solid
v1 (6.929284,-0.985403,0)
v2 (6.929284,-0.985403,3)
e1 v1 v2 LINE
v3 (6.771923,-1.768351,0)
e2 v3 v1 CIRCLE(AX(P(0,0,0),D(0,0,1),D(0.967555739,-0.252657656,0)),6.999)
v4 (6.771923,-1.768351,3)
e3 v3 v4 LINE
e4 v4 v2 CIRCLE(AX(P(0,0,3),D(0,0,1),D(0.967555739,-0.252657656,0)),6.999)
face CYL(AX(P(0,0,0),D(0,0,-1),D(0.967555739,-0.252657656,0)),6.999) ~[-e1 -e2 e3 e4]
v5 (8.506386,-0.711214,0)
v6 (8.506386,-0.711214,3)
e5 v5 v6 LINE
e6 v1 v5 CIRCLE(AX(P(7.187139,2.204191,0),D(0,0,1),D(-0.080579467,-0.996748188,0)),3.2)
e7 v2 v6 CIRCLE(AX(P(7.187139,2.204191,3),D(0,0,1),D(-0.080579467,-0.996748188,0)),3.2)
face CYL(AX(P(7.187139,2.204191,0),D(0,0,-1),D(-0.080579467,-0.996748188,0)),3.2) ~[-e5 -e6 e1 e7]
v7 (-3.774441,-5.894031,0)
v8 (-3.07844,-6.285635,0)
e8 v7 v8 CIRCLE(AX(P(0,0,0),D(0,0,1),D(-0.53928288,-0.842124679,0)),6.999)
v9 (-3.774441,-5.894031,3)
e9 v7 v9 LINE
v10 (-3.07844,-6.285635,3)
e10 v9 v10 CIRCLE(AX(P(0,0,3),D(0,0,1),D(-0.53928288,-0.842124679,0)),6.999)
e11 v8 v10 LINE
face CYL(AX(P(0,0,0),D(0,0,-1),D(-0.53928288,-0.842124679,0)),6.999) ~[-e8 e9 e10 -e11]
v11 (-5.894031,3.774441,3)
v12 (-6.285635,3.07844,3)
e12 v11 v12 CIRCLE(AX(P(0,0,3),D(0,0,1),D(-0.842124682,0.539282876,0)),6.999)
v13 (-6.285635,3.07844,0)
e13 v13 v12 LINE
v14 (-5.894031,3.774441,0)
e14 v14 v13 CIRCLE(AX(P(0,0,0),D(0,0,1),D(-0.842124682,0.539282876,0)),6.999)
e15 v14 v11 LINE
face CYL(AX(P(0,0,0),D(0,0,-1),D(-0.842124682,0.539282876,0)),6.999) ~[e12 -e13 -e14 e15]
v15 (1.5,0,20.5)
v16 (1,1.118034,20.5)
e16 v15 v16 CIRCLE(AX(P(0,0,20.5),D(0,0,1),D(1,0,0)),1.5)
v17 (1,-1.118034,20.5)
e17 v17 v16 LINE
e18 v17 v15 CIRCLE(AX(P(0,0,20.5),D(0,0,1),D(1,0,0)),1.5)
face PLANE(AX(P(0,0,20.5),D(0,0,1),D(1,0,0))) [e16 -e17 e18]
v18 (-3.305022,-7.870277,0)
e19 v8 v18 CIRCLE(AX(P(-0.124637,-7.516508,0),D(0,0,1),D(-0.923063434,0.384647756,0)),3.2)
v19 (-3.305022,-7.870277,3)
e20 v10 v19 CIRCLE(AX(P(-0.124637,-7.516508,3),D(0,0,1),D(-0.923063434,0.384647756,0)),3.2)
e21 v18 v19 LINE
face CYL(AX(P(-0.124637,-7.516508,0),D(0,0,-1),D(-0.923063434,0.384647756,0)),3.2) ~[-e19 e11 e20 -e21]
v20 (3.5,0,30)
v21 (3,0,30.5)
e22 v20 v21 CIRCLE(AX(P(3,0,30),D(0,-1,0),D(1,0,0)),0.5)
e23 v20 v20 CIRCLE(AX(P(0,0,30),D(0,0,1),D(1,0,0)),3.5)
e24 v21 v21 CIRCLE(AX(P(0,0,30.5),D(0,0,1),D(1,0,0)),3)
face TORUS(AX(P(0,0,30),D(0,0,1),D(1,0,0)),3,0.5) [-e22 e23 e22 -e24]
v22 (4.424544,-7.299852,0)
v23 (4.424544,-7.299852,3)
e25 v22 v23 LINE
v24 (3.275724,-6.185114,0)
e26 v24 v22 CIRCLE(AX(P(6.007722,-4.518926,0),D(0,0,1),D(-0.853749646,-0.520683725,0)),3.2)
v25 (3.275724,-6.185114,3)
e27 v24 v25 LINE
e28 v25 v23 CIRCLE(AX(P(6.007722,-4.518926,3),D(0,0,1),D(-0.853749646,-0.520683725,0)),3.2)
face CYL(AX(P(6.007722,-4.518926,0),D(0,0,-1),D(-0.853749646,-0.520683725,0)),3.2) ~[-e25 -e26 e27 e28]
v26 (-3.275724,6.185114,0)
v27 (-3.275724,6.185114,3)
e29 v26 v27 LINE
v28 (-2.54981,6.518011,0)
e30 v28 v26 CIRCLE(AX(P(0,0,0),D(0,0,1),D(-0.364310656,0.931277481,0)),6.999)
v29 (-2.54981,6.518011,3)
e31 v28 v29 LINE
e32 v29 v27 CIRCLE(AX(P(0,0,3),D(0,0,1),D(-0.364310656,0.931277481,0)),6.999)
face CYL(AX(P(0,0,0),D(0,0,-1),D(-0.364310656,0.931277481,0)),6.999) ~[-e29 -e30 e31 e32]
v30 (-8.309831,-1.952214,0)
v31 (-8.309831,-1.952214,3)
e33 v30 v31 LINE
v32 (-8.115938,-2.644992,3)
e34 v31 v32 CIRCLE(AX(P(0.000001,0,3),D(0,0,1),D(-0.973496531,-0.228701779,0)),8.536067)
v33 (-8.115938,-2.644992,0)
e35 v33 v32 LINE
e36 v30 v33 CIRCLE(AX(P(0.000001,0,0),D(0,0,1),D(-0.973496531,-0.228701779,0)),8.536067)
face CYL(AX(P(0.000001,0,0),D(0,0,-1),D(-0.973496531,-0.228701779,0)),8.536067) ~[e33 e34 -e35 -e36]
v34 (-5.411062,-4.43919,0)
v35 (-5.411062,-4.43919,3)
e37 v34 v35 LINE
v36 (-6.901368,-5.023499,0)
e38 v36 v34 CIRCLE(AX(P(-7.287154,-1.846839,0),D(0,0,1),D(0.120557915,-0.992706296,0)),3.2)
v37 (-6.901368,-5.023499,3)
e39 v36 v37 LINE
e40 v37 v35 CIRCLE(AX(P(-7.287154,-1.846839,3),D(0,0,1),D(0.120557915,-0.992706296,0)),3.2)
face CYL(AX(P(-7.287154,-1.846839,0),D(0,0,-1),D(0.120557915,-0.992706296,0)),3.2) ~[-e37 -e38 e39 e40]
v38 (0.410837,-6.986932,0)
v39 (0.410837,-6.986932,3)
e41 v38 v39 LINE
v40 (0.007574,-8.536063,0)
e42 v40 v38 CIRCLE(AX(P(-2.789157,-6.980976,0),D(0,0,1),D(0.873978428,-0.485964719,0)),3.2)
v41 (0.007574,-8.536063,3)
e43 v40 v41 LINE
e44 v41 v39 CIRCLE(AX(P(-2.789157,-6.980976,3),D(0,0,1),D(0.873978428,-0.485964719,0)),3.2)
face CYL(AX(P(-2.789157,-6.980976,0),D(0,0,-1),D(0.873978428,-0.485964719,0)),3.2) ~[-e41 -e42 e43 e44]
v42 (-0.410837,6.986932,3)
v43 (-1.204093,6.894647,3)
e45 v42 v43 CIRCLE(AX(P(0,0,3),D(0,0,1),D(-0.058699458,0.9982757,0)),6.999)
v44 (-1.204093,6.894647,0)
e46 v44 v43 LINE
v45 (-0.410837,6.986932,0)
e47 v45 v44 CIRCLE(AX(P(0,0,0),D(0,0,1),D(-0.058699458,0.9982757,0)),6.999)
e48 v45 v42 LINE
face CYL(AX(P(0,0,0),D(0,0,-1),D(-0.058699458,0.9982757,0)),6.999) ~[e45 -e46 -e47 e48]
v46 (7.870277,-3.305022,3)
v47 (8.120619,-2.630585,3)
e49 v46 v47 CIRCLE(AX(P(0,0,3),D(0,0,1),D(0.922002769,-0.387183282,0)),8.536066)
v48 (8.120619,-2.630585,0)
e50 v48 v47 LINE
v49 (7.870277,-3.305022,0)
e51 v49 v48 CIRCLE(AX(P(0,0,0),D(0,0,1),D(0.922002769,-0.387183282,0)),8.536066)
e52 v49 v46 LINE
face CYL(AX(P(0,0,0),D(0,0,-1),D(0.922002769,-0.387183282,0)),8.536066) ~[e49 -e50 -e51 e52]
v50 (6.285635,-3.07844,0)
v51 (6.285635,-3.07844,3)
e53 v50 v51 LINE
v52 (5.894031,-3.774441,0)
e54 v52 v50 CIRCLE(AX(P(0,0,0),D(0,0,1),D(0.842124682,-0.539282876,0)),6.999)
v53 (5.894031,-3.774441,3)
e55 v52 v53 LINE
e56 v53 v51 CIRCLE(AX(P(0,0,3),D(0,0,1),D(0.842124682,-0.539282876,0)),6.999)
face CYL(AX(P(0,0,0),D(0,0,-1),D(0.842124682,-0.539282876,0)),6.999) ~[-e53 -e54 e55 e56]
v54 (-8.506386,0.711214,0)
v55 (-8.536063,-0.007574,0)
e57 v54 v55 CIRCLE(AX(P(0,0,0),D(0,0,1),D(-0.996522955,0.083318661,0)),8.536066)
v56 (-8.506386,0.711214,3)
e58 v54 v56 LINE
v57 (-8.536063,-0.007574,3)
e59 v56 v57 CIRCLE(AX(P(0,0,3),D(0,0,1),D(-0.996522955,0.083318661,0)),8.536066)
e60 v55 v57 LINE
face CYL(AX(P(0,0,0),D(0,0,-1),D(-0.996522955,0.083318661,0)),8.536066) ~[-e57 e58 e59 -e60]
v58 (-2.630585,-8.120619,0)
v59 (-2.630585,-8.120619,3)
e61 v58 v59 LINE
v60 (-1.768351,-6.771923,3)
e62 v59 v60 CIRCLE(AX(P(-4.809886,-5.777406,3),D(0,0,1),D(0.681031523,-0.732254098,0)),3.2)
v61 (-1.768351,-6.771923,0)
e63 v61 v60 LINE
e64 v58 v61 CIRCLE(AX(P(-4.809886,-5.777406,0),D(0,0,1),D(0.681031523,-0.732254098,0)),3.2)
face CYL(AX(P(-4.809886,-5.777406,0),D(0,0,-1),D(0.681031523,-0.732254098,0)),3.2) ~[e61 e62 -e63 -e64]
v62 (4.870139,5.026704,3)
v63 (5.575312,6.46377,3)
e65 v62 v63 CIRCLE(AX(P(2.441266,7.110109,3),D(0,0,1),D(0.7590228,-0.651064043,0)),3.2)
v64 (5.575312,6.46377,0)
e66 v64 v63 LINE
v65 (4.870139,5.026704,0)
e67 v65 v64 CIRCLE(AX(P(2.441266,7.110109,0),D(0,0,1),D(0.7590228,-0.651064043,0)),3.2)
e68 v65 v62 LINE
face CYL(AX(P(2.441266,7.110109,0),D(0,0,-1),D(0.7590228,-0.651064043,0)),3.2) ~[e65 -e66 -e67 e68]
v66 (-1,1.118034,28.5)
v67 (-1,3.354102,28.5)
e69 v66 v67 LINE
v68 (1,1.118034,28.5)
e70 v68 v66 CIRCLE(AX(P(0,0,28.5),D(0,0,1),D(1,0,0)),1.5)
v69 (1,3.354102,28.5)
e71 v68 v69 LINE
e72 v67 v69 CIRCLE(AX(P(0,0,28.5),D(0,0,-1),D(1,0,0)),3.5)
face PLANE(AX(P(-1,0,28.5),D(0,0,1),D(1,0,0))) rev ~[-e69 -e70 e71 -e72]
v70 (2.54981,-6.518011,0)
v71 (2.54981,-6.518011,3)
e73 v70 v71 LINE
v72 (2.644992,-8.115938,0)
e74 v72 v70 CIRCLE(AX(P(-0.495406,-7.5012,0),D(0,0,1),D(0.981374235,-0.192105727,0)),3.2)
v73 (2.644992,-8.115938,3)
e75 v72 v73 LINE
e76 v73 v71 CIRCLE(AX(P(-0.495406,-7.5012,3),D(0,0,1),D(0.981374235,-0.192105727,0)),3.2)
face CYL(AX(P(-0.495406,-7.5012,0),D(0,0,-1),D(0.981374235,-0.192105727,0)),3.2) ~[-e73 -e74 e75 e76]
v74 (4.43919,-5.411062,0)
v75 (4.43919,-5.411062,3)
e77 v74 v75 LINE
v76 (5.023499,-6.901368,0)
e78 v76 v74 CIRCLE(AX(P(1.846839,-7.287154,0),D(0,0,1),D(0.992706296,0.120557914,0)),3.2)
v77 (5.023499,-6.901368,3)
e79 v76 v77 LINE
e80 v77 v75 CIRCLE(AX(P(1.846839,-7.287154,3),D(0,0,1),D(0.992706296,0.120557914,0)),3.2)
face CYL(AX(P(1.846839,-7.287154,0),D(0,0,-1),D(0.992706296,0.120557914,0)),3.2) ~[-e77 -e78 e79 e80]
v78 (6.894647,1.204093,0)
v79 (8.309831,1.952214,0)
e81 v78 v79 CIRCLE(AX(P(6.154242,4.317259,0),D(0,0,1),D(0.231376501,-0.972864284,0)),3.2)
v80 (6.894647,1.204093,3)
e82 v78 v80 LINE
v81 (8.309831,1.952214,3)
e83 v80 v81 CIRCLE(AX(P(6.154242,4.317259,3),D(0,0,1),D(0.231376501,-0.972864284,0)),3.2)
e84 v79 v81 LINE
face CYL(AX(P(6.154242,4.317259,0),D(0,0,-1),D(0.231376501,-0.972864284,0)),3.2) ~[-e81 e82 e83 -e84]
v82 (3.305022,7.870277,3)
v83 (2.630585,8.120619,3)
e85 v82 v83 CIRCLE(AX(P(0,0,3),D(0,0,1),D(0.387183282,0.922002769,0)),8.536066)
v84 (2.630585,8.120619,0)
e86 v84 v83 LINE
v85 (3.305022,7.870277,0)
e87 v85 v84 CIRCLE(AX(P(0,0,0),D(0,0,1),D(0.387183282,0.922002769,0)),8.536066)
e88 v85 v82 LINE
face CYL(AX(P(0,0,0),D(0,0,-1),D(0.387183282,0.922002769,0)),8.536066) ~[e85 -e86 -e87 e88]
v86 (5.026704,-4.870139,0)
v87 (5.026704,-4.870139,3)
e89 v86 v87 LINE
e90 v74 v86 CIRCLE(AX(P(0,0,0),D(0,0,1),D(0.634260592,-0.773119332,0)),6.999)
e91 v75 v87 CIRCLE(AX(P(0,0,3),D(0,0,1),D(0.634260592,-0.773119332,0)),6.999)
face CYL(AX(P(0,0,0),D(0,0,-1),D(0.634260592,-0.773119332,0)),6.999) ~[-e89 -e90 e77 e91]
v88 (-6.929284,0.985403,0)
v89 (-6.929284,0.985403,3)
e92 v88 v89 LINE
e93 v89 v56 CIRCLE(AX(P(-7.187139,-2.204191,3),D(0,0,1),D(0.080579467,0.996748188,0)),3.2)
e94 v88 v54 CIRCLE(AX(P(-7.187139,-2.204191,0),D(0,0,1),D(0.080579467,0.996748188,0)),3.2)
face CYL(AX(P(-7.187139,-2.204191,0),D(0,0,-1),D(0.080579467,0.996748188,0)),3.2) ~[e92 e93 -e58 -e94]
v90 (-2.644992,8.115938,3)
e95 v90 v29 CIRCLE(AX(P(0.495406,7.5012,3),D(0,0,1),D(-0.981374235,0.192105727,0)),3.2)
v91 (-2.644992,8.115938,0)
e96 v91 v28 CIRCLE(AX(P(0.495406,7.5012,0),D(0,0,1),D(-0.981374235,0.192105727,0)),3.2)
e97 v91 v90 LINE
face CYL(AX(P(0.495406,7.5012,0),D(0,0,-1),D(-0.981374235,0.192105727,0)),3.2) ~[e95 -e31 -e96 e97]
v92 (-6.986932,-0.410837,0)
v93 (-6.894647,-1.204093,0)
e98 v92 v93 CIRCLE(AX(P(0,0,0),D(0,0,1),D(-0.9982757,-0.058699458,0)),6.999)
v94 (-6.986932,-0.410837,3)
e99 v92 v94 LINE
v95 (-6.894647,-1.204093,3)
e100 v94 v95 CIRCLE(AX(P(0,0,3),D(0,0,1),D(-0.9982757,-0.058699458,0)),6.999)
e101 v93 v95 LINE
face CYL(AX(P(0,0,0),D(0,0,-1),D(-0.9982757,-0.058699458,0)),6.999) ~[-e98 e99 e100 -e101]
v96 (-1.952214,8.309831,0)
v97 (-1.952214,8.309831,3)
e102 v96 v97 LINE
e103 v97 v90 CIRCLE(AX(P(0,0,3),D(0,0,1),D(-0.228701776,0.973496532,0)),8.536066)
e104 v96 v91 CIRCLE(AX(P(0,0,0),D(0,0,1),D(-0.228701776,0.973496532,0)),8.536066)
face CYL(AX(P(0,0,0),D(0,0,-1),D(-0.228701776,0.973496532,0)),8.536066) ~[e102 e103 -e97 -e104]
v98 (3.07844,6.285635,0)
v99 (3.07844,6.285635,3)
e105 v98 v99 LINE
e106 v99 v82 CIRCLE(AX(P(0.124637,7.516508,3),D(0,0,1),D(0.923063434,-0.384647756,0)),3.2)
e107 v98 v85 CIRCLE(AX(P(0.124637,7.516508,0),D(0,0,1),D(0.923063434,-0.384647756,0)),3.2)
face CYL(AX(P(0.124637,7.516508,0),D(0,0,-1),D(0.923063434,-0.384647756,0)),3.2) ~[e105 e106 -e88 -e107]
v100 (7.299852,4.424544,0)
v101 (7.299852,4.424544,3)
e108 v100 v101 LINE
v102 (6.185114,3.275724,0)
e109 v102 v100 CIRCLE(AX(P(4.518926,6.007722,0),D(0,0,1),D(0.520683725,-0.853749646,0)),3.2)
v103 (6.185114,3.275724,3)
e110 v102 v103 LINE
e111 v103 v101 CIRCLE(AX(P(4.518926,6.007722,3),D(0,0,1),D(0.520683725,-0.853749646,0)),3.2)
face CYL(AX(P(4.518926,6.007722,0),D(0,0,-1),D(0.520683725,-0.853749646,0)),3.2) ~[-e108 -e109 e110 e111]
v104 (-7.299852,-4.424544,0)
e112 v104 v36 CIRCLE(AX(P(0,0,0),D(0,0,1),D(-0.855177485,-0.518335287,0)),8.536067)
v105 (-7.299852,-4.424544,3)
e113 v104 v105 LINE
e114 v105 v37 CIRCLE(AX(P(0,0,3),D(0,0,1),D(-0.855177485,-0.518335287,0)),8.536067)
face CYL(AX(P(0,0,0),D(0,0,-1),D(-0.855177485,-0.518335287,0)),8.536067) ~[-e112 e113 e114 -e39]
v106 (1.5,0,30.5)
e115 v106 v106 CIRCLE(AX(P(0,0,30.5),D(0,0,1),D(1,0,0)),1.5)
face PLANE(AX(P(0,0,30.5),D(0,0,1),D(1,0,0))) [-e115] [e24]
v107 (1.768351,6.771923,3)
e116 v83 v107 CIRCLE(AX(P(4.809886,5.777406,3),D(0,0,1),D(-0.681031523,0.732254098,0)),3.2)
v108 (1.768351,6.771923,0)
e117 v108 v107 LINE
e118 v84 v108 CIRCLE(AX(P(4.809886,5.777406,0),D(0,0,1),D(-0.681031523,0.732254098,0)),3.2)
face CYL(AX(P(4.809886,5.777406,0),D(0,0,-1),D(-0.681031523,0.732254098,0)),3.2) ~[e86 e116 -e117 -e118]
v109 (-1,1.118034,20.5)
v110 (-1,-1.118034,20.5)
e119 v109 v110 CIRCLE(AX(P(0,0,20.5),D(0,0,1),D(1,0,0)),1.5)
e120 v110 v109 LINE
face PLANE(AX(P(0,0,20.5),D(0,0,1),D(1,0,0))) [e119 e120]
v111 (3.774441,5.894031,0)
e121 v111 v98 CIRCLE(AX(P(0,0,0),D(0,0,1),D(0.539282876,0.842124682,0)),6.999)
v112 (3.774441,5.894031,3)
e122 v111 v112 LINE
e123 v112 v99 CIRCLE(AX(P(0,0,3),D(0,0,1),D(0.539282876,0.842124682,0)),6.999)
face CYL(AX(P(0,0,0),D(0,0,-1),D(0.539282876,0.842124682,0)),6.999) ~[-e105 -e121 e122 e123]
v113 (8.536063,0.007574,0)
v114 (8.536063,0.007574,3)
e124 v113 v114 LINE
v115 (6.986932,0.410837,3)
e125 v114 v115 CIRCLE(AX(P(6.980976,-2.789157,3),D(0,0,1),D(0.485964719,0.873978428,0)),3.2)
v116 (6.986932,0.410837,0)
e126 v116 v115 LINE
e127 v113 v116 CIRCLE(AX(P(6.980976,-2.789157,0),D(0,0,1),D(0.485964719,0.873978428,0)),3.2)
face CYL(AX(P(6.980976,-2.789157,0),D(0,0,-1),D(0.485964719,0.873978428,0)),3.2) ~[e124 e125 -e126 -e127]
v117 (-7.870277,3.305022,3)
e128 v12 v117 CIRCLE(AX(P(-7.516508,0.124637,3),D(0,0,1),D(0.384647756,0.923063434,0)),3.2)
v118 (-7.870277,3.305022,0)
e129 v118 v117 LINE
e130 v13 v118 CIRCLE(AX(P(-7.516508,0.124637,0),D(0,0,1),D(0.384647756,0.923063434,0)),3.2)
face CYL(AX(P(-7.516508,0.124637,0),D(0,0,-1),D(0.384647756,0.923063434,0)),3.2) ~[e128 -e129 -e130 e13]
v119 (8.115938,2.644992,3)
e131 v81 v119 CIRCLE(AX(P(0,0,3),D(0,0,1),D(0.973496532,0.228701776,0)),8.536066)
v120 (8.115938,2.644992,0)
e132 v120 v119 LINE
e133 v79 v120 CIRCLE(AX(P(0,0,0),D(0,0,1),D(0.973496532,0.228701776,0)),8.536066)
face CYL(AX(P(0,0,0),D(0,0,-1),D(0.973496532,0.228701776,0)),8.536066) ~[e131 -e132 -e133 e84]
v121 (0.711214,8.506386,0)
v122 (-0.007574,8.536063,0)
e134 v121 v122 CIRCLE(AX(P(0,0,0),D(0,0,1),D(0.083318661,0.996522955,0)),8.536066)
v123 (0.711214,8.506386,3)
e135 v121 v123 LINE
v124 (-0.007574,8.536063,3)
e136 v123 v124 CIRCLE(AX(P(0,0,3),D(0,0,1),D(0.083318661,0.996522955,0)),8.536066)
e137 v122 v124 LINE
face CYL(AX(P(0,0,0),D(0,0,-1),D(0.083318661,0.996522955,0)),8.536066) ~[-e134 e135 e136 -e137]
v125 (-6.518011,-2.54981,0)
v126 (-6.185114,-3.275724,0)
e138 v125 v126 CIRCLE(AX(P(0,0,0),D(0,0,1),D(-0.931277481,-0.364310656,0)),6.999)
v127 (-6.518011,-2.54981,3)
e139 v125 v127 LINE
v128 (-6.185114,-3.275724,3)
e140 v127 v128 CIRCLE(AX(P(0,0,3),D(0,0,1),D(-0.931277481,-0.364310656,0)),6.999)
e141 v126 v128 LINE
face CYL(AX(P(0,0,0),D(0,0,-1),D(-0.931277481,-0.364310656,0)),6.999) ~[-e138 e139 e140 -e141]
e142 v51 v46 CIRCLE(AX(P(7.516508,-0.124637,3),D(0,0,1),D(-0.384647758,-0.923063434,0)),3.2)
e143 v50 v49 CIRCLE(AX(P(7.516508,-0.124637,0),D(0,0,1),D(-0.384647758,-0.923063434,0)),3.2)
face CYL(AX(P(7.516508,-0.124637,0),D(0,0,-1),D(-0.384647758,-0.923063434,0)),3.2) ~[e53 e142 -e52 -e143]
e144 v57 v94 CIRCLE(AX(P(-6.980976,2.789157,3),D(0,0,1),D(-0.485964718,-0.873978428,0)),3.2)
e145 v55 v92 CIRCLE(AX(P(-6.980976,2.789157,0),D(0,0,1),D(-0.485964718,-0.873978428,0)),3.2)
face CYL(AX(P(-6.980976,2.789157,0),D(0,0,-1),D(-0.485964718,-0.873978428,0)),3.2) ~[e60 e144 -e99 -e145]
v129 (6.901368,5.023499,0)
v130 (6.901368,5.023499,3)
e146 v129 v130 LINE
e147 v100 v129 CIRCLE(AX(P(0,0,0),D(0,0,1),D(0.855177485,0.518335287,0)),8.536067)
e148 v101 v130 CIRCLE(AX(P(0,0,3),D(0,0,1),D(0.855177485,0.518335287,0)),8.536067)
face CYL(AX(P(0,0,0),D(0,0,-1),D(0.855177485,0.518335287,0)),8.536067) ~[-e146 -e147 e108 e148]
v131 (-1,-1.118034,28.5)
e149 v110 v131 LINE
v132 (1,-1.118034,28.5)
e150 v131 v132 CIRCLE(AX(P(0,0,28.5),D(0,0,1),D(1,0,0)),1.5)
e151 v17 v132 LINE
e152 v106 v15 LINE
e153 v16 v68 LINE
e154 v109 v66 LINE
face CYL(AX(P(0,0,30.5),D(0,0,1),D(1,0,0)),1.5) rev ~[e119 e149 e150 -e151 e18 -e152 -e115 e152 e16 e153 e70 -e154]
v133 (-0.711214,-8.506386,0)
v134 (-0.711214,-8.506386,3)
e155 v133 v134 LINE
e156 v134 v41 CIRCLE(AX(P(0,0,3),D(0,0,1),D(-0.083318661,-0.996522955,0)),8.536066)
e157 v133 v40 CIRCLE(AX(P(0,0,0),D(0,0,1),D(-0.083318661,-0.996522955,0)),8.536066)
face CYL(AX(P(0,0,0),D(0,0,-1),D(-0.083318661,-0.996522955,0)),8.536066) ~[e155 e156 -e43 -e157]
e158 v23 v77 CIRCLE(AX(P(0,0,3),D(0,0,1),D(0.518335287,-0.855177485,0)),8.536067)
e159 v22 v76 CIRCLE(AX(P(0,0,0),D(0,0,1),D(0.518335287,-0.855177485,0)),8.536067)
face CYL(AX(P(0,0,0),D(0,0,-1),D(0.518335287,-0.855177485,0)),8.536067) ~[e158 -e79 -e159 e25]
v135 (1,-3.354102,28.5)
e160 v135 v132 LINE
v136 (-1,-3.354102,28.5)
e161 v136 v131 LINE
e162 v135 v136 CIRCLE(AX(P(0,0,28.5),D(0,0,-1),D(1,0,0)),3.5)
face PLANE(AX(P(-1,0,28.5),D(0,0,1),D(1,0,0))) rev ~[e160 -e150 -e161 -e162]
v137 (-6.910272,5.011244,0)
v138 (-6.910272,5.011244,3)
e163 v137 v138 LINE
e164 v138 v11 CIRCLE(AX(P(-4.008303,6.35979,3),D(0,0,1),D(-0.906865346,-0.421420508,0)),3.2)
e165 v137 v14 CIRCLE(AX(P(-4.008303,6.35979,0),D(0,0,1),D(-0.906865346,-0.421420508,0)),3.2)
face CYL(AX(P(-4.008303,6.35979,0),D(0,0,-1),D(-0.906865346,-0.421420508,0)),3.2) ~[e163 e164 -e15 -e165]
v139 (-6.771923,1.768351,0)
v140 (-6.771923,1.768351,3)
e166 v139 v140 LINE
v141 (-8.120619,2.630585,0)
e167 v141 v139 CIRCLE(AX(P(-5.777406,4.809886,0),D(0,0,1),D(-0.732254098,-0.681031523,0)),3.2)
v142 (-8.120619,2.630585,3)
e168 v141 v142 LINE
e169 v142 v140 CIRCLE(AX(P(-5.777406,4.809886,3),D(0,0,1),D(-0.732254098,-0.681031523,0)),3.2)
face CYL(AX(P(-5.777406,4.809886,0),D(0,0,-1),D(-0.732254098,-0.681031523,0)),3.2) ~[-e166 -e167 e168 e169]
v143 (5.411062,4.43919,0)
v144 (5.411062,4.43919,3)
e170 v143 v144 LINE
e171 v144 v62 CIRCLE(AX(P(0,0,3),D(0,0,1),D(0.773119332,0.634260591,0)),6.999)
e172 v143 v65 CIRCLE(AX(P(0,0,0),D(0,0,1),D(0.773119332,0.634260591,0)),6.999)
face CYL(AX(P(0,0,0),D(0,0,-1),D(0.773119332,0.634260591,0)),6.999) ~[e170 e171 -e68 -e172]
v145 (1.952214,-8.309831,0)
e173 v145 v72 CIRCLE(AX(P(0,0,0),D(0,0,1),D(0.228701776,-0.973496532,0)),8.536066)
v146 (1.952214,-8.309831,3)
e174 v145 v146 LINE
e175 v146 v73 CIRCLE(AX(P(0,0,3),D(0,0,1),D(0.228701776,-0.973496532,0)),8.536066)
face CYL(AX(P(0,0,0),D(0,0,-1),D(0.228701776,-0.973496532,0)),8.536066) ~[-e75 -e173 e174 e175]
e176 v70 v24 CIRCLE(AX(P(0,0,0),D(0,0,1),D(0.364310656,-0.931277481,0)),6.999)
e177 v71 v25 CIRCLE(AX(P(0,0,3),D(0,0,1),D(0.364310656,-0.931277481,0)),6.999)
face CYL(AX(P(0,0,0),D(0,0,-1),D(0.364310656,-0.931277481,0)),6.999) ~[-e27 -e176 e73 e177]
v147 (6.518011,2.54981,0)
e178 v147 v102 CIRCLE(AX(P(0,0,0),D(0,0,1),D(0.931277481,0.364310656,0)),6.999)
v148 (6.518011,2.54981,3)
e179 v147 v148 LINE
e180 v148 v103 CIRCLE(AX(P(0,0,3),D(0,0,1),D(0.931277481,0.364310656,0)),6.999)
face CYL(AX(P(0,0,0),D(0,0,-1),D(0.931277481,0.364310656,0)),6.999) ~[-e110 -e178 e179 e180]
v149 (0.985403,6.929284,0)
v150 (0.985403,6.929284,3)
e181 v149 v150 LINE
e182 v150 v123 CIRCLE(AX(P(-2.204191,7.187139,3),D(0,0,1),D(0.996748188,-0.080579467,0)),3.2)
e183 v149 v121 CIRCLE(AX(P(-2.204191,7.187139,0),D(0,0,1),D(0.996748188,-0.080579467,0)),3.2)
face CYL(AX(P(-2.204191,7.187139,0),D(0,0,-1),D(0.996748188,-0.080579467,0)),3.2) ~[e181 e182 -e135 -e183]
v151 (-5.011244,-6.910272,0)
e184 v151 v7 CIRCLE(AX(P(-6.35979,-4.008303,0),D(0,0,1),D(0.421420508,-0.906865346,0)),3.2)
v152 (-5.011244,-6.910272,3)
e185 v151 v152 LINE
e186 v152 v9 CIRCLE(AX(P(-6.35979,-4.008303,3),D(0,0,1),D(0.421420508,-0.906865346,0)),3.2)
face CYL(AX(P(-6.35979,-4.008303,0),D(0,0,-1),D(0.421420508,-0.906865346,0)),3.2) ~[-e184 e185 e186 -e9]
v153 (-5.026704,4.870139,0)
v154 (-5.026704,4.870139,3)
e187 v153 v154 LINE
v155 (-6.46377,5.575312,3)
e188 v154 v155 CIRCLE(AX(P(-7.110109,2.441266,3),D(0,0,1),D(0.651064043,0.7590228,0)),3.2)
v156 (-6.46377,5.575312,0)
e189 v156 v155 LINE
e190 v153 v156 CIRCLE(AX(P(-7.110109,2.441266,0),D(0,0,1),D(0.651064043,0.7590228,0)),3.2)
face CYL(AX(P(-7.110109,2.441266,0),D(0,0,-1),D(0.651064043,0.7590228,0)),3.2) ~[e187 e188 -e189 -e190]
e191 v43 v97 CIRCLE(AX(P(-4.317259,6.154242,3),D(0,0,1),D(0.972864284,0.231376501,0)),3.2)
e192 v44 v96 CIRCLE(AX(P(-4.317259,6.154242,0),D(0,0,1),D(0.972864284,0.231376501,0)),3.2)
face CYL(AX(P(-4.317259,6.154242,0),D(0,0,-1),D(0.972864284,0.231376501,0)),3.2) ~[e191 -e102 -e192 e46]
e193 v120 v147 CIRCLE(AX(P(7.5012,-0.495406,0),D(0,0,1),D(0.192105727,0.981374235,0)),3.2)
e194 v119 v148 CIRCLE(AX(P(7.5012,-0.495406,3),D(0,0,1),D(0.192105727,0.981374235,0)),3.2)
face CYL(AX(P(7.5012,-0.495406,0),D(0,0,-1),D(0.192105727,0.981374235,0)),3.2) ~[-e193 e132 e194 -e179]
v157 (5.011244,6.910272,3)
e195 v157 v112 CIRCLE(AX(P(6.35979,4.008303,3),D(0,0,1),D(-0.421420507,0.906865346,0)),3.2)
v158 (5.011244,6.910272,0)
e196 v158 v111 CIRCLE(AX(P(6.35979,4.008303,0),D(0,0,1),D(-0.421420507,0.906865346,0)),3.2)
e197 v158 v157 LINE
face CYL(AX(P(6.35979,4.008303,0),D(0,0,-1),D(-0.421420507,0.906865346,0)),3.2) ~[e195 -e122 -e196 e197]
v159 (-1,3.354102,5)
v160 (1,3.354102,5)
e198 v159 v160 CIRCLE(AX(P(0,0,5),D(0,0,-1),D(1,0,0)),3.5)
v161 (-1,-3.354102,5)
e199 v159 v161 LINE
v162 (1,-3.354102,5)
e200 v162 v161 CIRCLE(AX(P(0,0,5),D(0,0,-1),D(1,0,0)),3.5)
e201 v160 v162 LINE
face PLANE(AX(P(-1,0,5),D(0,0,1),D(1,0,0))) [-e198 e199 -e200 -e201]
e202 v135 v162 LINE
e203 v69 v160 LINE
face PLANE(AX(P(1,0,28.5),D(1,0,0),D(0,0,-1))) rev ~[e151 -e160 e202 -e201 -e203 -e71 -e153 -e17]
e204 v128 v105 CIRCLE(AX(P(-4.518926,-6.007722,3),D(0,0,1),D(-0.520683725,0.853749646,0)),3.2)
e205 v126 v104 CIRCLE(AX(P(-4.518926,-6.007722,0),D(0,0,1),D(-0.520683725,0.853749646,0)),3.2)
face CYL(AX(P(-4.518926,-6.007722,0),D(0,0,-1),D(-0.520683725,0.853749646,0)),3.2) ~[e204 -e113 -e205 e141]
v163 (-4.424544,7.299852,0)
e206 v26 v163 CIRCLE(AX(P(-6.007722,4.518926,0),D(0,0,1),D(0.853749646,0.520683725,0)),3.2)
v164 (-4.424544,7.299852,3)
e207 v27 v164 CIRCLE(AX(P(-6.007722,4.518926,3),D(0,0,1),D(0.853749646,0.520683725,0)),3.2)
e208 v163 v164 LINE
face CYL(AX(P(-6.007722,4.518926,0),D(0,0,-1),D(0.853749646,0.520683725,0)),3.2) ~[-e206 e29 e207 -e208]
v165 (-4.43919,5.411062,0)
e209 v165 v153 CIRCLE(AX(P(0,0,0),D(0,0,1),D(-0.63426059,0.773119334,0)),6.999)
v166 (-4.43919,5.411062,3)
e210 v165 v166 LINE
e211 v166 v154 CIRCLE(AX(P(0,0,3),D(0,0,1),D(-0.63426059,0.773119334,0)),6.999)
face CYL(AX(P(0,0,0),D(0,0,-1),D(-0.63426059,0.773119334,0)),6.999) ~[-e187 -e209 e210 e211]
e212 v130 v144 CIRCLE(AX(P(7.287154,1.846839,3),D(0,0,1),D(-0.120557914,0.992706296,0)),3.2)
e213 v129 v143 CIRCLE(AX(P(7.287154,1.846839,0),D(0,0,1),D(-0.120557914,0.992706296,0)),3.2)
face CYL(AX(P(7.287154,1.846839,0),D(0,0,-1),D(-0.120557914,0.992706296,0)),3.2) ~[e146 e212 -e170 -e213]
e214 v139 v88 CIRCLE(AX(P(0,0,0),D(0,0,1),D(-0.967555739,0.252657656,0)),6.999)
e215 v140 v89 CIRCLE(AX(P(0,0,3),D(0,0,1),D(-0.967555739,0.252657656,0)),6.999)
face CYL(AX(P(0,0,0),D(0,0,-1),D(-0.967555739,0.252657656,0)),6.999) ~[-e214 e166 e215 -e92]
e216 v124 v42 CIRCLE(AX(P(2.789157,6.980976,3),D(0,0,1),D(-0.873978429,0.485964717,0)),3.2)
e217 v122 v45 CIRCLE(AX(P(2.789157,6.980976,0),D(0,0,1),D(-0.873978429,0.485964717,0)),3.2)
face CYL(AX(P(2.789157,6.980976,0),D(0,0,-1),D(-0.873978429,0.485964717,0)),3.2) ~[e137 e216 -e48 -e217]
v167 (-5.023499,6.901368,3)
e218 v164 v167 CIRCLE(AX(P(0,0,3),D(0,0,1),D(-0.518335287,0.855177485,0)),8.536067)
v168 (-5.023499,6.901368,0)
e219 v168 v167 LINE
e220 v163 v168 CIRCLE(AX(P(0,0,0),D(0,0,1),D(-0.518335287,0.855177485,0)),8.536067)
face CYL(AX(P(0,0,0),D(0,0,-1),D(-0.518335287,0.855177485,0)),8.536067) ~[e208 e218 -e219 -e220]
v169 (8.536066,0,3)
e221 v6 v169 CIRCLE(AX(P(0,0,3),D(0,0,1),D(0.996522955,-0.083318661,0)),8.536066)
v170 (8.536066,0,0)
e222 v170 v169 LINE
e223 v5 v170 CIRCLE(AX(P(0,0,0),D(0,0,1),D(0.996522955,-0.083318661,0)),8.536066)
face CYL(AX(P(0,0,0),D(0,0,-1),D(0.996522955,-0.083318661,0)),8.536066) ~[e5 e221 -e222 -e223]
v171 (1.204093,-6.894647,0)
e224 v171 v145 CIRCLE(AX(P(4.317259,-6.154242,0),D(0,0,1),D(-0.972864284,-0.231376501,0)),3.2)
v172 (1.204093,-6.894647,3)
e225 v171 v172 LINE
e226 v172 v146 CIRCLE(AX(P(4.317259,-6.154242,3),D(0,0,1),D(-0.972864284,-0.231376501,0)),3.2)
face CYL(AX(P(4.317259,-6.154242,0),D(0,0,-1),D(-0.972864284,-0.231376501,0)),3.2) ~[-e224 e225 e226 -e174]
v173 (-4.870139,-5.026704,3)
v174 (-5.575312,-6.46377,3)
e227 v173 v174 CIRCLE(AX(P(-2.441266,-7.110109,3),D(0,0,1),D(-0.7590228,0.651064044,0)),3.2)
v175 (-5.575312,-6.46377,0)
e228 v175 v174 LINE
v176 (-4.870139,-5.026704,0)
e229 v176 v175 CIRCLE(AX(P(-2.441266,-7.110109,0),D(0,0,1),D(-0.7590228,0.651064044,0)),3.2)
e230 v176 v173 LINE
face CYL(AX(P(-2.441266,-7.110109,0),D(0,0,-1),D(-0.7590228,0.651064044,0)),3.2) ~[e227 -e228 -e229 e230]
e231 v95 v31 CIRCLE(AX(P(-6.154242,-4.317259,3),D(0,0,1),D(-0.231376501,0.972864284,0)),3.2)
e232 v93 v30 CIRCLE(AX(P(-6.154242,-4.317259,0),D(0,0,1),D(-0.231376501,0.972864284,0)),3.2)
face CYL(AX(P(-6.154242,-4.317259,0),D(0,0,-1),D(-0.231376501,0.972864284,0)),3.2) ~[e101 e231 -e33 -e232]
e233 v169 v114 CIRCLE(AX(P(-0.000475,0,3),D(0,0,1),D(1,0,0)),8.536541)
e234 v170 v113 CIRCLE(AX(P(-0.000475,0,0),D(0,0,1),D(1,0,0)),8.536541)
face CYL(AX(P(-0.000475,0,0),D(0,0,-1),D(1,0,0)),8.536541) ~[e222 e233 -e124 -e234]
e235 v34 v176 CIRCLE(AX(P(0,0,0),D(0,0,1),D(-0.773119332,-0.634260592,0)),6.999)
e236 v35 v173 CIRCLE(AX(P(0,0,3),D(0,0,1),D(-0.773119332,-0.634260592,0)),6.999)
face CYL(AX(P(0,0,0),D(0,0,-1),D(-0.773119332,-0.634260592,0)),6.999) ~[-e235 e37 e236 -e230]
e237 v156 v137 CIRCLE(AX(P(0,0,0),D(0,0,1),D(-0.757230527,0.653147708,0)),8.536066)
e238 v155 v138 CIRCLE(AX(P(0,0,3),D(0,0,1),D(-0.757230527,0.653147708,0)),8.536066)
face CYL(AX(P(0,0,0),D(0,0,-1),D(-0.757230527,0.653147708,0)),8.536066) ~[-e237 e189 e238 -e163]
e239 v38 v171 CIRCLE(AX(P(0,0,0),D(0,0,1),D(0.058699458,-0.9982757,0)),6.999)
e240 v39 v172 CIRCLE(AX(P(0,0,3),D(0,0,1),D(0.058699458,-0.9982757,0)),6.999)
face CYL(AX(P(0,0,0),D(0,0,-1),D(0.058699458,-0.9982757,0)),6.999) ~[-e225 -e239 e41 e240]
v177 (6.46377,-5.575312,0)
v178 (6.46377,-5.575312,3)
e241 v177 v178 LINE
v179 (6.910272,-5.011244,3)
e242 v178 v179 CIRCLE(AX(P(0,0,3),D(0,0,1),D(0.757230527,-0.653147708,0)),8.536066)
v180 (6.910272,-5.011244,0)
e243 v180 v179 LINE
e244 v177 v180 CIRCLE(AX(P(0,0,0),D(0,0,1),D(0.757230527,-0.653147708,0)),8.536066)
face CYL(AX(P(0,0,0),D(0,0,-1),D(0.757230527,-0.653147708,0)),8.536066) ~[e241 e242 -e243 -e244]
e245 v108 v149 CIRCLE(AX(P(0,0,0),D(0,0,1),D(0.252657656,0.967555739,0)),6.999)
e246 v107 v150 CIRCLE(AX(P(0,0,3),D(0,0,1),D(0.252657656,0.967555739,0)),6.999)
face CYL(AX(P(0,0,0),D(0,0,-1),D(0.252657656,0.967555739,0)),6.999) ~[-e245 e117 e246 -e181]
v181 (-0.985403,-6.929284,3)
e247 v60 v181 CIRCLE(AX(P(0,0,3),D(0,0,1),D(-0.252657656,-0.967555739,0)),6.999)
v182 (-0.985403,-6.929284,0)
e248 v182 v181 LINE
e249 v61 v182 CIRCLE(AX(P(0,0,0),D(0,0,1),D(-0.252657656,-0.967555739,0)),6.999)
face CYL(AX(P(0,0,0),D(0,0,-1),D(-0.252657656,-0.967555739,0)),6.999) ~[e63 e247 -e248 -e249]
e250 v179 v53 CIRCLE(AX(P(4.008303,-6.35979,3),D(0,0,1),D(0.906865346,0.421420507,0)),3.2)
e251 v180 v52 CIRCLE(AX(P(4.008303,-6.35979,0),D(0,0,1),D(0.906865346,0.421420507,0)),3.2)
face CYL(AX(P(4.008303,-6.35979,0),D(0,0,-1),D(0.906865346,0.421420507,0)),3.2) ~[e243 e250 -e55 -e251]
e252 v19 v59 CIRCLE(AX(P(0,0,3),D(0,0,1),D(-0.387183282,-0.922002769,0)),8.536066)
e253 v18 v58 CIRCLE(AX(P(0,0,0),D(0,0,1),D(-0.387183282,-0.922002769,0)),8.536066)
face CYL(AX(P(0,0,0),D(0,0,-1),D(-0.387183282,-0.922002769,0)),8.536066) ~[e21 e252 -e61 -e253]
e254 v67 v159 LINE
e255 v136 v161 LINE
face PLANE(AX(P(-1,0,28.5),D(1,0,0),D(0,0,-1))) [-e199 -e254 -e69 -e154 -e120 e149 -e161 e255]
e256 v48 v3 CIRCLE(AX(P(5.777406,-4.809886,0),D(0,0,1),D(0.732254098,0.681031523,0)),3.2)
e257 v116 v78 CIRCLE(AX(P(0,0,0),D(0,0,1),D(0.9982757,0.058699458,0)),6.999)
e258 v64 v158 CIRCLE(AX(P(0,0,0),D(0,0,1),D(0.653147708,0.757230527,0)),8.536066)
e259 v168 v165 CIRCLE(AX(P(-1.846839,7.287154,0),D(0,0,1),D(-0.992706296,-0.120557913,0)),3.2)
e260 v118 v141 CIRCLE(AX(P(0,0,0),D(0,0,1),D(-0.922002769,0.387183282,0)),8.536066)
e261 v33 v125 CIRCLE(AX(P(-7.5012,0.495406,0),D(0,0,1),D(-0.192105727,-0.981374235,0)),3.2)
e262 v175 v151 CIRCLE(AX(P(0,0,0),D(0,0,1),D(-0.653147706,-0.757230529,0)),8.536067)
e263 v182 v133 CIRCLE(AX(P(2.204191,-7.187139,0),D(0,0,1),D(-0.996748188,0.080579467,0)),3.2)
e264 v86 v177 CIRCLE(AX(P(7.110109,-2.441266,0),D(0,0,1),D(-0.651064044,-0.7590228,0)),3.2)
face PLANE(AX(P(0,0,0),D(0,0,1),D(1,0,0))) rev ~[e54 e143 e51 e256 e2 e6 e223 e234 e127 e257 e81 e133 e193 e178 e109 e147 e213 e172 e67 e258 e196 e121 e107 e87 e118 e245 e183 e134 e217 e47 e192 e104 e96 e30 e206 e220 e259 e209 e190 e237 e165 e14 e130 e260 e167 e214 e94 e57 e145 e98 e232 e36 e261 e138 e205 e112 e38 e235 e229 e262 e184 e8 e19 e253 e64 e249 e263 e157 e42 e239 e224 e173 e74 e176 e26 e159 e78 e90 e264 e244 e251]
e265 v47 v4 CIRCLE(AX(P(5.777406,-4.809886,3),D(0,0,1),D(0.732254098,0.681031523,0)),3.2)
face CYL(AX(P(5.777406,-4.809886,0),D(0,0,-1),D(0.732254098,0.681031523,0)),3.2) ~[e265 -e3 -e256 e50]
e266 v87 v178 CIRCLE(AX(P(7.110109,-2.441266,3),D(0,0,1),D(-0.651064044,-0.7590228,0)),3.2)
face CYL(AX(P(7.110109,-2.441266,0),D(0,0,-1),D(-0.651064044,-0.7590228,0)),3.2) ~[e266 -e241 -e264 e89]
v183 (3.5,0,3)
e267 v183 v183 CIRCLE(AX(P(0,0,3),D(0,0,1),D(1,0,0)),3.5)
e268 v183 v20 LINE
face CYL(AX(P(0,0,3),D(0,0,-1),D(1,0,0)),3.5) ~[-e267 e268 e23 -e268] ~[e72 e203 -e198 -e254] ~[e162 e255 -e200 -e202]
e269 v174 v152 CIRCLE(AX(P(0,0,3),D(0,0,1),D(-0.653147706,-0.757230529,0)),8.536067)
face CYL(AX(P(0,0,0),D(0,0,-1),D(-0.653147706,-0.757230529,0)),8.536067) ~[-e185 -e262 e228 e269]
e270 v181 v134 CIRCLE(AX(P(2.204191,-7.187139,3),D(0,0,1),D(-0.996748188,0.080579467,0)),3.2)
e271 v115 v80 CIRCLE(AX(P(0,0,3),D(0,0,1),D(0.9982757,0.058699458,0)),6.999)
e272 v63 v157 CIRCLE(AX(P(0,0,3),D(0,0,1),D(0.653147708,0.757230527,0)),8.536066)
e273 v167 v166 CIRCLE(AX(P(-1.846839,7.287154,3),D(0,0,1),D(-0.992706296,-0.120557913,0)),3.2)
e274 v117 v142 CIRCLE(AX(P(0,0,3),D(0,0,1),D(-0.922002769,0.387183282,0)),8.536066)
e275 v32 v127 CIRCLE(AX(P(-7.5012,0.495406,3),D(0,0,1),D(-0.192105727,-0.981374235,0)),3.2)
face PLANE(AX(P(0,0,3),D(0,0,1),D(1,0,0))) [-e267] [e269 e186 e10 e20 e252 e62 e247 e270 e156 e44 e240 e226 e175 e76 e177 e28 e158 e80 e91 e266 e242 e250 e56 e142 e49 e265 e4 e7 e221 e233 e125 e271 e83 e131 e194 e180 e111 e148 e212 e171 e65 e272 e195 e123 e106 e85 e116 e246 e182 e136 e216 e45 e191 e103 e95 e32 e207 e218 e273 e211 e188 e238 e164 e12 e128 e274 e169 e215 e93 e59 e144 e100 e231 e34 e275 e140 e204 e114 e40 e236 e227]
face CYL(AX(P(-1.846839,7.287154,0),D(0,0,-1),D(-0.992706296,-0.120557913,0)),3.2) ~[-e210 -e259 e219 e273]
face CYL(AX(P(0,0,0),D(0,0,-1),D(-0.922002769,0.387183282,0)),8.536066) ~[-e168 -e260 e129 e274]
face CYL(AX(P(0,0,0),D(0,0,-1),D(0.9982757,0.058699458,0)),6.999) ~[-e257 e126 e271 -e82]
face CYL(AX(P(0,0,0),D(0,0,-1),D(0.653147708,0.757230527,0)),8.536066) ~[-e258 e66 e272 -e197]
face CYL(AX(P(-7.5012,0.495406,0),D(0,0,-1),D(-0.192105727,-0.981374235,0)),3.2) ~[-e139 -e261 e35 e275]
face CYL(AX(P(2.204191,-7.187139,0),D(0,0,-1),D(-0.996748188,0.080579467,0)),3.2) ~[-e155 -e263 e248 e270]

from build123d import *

# Parameters (mm, degrees)
EXTRUDE_4_DEPTH     = 3
SKETCH_5_R          = 3.5
EXTRUDE_6_DEPTH     = 27.5
SKETCH_8_R          = 1.5
CUT_EXTRUDE_1_DEPTH = 10
SKETCH_10_W         = 2
SKETCH_10_H         = 23.5
CUT_EXTRUDE_2_DEPTH = 5
FILLET_1_R          = 0.5


with BuildPart() as part:
    # 草图4 → 凸台-拉伸4 (new body)
    with BuildSketch(Plane.XY):
        with BuildLine():
            ThreePointArc((8.536063079, 0.007574004), (7.787120491, 0.307636704), (6.986931627, 0.410837493))
            ThreePointArc((6.986931627, 0.410837493), (6.952112765, 0.808782481), (6.894647301, 1.204092849))
            ThreePointArc((6.894647301, 1.204092849), (7.649774364, 1.488233206), (8.309831075, 1.95221355))
            ThreePointArc((8.309831075, 1.95221355), (8.220185959, 2.300646222), (8.115937918, 2.644991862))
            ThreePointArc((8.115937918, 2.644991862), (7.310926717, 2.698932461), (6.518011085, 2.549810286))
            ThreePointArc((6.518011085, 2.549810286), (6.361924616, 2.91751884), (6.18511409, 3.275723537))
            ThreePointArc((6.18511409, 3.275723537), (6.815478405, 3.77930417), (7.29985183, 4.424544441))
            ThreePointArc((7.29985183, 4.424544441), (7.106922641, 4.72822174), (6.901368208, 5.023499488))
            ThreePointArc((6.901368208, 5.023499488), (6.119088497, 4.826037904), (5.411062205, 4.439189883))
            ThreePointArc((5.411062205, 4.439189883), (5.148986959, 4.740668128), (4.870138818, 5.026703581))
            ThreePointArc((4.870138818, 5.026703581), (5.314035933, 5.70043051), (5.575312226, 6.463770094))
            ThreePointArc((5.575312226, 6.463770094), (5.297984218, 6.69296597), (5.011244492, 6.910271984))
            ThreePointArc((5.011244492, 6.910271984), (4.328271261, 6.480737132), (3.774440855, 5.894030644))
            ThreePointArc((3.774440855, 5.894030644), (3.432030584, 6.099767788), (3.078440426, 6.285634856))
            ThreePointArc((3.078440426, 6.285634856), (3.292418599, 7.063558994), (3.305022217, 7.870276894))
            ThreePointArc((3.305022217, 7.870276894), (2.970442186, 8.002556058), (2.63058525, 8.12061891))
            ThreePointArc((2.63058525, 8.12061891), (2.113772678, 7.501056656), (1.768350936, 6.77192262))
            ThreePointArc((1.768350936, 6.77192262), (1.379123142, 6.861779679), (0.985402836, 6.929284397))
            ThreePointArc((0.985402836, 6.929284397), (0.948516393, 7.735257109), (0.711213605, 8.506386157))
            ThreePointArc((0.711213605, 8.506386157), (0.352132577, 8.528800203), (-0.007574004, 8.536063079))
            ThreePointArc((-0.007574004, 8.536063079), (-0.307636703, 7.787120491), (-0.410837493, 6.986931627))
            ThreePointArc((-0.410837493, 6.986931627), (-0.808782481, 6.952112765), (-1.204092849, 6.894647301))
            ThreePointArc((-1.204092849, 6.894647301), (-1.488233206, 7.649774364), (-1.95221355, 8.309831075))
            ThreePointArc((-1.95221355, 8.309831075), (-2.300646222, 8.220185959), (-2.644991862, 8.115937918))
            ThreePointArc((-2.644991862, 8.115937918), (-2.698932461, 7.310926717), (-2.549810286, 6.518011085))
            ThreePointArc((-2.549810286, 6.518011085), (-2.91751884, 6.361924616), (-3.275723537, 6.18511409))
            ThreePointArc((-3.275723537, 6.18511409), (-3.77930417, 6.815478405), (-4.424544441, 7.29985183))
            ThreePointArc((-4.424544441, 7.29985183), (-4.72822174, 7.106922641), (-5.023499488, 6.901368208))
            ThreePointArc((-5.023499488, 6.901368208), (-4.826037904, 6.119088497), (-4.439189882, 5.411062205))
            ThreePointArc((-4.439189882, 5.411062205), (-4.740668128, 5.148986959), (-5.026703581, 4.870138818))
            ThreePointArc((-5.026703581, 4.870138818), (-5.70043051, 5.314035933), (-6.463770094, 5.575312226))
            ThreePointArc((-6.463770094, 5.575312226), (-6.69296597, 5.297984218), (-6.910271984, 5.011244492))
            ThreePointArc((-6.910271984, 5.011244492), (-6.480737132, 4.328271262), (-5.894030644, 3.774440855))
            ThreePointArc((-5.894030644, 3.774440855), (-6.099767788, 3.432030584), (-6.285634856, 3.078440426))
            ThreePointArc((-6.285634856, 3.078440426), (-7.063558994, 3.292418599), (-7.870276894, 3.305022217))
            ThreePointArc((-7.870276894, 3.305022217), (-8.002556058, 2.970442186), (-8.12061891, 2.63058525))
            ThreePointArc((-8.12061891, 2.63058525), (-7.501056656, 2.113772678), (-6.77192262, 1.768350936))
            ThreePointArc((-6.77192262, 1.768350936), (-6.861779679, 1.379123142), (-6.929284397, 0.985402836))
            ThreePointArc((-6.929284397, 0.985402836), (-7.735257109, 0.948516393), (-8.506386157, 0.711213605))
            ThreePointArc((-8.506386157, 0.711213605), (-8.528800203, 0.352132577), (-8.536063079, -0.007574004))
            ThreePointArc((-8.536063079, -0.007574004), (-7.787120492, -0.307636703), (-6.986931627, -0.410837493))
            ThreePointArc((-6.986931627, -0.410837493), (-6.952112765, -0.808782481), (-6.894647301, -1.204092849))
            ThreePointArc((-6.894647301, -1.204092849), (-7.649774364, -1.488233206), (-8.309831076, -1.95221355))
            ThreePointArc((-8.309831076, -1.95221355), (-8.220185959, -2.300646222), (-8.115937918, -2.644991862))
            ThreePointArc((-8.115937918, -2.644991862), (-7.310926717, -2.698932461), (-6.518011085, -2.549810286))
            ThreePointArc((-6.518011085, -2.549810286), (-6.361924616, -2.91751884), (-6.18511409, -3.275723537))
            ThreePointArc((-6.18511409, -3.275723537), (-6.815478405, -3.77930417), (-7.29985183, -4.424544441))
            ThreePointArc((-7.29985183, -4.424544441), (-7.106922641, -4.72822174), (-6.901368208, -5.023499488))
            ThreePointArc((-6.901368208, -5.023499488), (-6.119088498, -4.826037904), (-5.411062205, -4.439189883))
            ThreePointArc((-5.411062205, -4.439189883), (-5.148986959, -4.740668128), (-4.870138818, -5.026703582))
            ThreePointArc((-4.870138818, -5.026703582), (-5.314035933, -5.70043051), (-5.575312227, -6.463770094))
            ThreePointArc((-5.575312227, -6.463770094), (-5.297984218, -6.69296597), (-5.011244492, -6.910271984))
            ThreePointArc((-5.011244492, -6.910271984), (-4.328271262, -6.480737132), (-3.774440855, -5.894030644))
            ThreePointArc((-3.774440855, -5.894030644), (-3.432030584, -6.099767789), (-3.078440426, -6.285634856))
            ThreePointArc((-3.078440426, -6.285634856), (-3.292418599, -7.063558994), (-3.305022217, -7.870276894))
            ThreePointArc((-3.305022217, -7.870276894), (-2.970442186, -8.002556058), (-2.63058525, -8.12061891))
            ThreePointArc((-2.63058525, -8.12061891), (-2.113772678, -7.501056656), (-1.768350936, -6.77192262))
            ThreePointArc((-1.768350936, -6.77192262), (-1.379123142, -6.861779679), (-0.985402836, -6.929284397))
            ThreePointArc((-0.985402836, -6.929284397), (-0.948516393, -7.735257109), (-0.711213605, -8.506386157))
            ThreePointArc((-0.711213605, -8.506386157), (-0.352132577, -8.528800203), (0.007574004, -8.536063079))
            ThreePointArc((0.007574004, -8.536063079), (0.307636704, -7.787120491), (0.410837493, -6.986931627))
            ThreePointArc((0.410837493, -6.986931627), (0.808782481, -6.952112765), (1.204092849, -6.894647301))
            ThreePointArc((1.204092849, -6.894647301), (1.488233206, -7.649774364), (1.95221355, -8.309831075))
            ThreePointArc((1.95221355, -8.309831075), (2.300646222, -8.220185959), (2.644991862, -8.115937918))
            ThreePointArc((2.644991862, -8.115937918), (2.698932461, -7.310926717), (2.549810286, -6.518011085))
            ThreePointArc((2.549810286, -6.518011085), (2.91751884, -6.361924616), (3.275723537, -6.18511409))
            ThreePointArc((3.275723537, -6.18511409), (3.77930417, -6.815478405), (4.424544441, -7.29985183))
            ThreePointArc((4.424544441, -7.29985183), (4.72822174, -7.106922641), (5.023499488, -6.901368208))
            ThreePointArc((5.023499488, -6.901368208), (4.826037904, -6.119088497), (4.439189883, -5.411062205))
            ThreePointArc((4.439189883, -5.411062205), (4.740668128, -5.148986959), (5.026703582, -4.870138818))
            ThreePointArc((5.026703582, -4.870138818), (5.70043051, -5.314035933), (6.463770094, -5.575312226))
            ThreePointArc((6.463770094, -5.575312226), (6.69296597, -5.297984218), (6.910271984, -5.011244492))
            ThreePointArc((6.910271984, -5.011244492), (6.480737132, -4.328271261), (5.894030644, -3.774440855))
            ThreePointArc((5.894030644, -3.774440855), (6.099767788, -3.432030584), (6.285634856, -3.078440425))
            ThreePointArc((6.285634856, -3.078440425), (7.063558994, -3.292418599), (7.870276894, -3.305022217))
            ThreePointArc((7.870276894, -3.305022217), (8.002556058, -2.970442186), (8.12061891, -2.63058525))
            ThreePointArc((8.12061891, -2.63058525), (7.501056656, -2.113772678), (6.77192262, -1.768350936))
            ThreePointArc((6.77192262, -1.768350936), (6.861779679, -1.379123142), (6.929284397, -0.985402836))
            ThreePointArc((6.929284397, -0.985402836), (7.735257109, -0.948516393), (8.506386157, -0.711213605))
            ThreePointArc((8.506386157, -0.711213605), (8.528643141, -0.355916321), (8.536066439, 0))
            ThreePointArc((8.536066439, 0), (8.536065599, 0.003787002), (8.536063079, 0.007574004))
        make_face()
    extrude(amount=EXTRUDE_4_DEPTH)

    # 草图5 → 凸台-拉伸6 (add)
    with BuildSketch(Plane.XY.offset(3)):
        Circle(SKETCH_5_R)
    extrude(amount=EXTRUDE_6_DEPTH)

    # 草图8 → 切除-拉伸1 (cut)
    with BuildSketch(Plane.XY.offset(30.5)):
        Circle(SKETCH_8_R)
    extrude(amount=-CUT_EXTRUDE_1_DEPTH, mode=Mode.SUBTRACT)

    # 草图10 → 切除-拉伸2 (cut, symmetric)
    with BuildSketch(Plane(origin=(0, 0, 0), x_dir=(1, 0, 0), z_dir=(0, 1, 0))):
        with Locations((0, -16.75)):
            Rectangle(SKETCH_10_W, SKETCH_10_H)
    extrude(amount=CUT_EXTRUDE_2_DEPTH, both=True, mode=Mode.SUBTRACT)

    # 圆角1
    fillet_1_edges = [part.edges().sort_by_distance(p)[0] for p in [
        (-3.5, 0, 30.5),
    ]]
    fillet(fillet_1_edges, radius=FILLET_1_R)


solid = part.part
